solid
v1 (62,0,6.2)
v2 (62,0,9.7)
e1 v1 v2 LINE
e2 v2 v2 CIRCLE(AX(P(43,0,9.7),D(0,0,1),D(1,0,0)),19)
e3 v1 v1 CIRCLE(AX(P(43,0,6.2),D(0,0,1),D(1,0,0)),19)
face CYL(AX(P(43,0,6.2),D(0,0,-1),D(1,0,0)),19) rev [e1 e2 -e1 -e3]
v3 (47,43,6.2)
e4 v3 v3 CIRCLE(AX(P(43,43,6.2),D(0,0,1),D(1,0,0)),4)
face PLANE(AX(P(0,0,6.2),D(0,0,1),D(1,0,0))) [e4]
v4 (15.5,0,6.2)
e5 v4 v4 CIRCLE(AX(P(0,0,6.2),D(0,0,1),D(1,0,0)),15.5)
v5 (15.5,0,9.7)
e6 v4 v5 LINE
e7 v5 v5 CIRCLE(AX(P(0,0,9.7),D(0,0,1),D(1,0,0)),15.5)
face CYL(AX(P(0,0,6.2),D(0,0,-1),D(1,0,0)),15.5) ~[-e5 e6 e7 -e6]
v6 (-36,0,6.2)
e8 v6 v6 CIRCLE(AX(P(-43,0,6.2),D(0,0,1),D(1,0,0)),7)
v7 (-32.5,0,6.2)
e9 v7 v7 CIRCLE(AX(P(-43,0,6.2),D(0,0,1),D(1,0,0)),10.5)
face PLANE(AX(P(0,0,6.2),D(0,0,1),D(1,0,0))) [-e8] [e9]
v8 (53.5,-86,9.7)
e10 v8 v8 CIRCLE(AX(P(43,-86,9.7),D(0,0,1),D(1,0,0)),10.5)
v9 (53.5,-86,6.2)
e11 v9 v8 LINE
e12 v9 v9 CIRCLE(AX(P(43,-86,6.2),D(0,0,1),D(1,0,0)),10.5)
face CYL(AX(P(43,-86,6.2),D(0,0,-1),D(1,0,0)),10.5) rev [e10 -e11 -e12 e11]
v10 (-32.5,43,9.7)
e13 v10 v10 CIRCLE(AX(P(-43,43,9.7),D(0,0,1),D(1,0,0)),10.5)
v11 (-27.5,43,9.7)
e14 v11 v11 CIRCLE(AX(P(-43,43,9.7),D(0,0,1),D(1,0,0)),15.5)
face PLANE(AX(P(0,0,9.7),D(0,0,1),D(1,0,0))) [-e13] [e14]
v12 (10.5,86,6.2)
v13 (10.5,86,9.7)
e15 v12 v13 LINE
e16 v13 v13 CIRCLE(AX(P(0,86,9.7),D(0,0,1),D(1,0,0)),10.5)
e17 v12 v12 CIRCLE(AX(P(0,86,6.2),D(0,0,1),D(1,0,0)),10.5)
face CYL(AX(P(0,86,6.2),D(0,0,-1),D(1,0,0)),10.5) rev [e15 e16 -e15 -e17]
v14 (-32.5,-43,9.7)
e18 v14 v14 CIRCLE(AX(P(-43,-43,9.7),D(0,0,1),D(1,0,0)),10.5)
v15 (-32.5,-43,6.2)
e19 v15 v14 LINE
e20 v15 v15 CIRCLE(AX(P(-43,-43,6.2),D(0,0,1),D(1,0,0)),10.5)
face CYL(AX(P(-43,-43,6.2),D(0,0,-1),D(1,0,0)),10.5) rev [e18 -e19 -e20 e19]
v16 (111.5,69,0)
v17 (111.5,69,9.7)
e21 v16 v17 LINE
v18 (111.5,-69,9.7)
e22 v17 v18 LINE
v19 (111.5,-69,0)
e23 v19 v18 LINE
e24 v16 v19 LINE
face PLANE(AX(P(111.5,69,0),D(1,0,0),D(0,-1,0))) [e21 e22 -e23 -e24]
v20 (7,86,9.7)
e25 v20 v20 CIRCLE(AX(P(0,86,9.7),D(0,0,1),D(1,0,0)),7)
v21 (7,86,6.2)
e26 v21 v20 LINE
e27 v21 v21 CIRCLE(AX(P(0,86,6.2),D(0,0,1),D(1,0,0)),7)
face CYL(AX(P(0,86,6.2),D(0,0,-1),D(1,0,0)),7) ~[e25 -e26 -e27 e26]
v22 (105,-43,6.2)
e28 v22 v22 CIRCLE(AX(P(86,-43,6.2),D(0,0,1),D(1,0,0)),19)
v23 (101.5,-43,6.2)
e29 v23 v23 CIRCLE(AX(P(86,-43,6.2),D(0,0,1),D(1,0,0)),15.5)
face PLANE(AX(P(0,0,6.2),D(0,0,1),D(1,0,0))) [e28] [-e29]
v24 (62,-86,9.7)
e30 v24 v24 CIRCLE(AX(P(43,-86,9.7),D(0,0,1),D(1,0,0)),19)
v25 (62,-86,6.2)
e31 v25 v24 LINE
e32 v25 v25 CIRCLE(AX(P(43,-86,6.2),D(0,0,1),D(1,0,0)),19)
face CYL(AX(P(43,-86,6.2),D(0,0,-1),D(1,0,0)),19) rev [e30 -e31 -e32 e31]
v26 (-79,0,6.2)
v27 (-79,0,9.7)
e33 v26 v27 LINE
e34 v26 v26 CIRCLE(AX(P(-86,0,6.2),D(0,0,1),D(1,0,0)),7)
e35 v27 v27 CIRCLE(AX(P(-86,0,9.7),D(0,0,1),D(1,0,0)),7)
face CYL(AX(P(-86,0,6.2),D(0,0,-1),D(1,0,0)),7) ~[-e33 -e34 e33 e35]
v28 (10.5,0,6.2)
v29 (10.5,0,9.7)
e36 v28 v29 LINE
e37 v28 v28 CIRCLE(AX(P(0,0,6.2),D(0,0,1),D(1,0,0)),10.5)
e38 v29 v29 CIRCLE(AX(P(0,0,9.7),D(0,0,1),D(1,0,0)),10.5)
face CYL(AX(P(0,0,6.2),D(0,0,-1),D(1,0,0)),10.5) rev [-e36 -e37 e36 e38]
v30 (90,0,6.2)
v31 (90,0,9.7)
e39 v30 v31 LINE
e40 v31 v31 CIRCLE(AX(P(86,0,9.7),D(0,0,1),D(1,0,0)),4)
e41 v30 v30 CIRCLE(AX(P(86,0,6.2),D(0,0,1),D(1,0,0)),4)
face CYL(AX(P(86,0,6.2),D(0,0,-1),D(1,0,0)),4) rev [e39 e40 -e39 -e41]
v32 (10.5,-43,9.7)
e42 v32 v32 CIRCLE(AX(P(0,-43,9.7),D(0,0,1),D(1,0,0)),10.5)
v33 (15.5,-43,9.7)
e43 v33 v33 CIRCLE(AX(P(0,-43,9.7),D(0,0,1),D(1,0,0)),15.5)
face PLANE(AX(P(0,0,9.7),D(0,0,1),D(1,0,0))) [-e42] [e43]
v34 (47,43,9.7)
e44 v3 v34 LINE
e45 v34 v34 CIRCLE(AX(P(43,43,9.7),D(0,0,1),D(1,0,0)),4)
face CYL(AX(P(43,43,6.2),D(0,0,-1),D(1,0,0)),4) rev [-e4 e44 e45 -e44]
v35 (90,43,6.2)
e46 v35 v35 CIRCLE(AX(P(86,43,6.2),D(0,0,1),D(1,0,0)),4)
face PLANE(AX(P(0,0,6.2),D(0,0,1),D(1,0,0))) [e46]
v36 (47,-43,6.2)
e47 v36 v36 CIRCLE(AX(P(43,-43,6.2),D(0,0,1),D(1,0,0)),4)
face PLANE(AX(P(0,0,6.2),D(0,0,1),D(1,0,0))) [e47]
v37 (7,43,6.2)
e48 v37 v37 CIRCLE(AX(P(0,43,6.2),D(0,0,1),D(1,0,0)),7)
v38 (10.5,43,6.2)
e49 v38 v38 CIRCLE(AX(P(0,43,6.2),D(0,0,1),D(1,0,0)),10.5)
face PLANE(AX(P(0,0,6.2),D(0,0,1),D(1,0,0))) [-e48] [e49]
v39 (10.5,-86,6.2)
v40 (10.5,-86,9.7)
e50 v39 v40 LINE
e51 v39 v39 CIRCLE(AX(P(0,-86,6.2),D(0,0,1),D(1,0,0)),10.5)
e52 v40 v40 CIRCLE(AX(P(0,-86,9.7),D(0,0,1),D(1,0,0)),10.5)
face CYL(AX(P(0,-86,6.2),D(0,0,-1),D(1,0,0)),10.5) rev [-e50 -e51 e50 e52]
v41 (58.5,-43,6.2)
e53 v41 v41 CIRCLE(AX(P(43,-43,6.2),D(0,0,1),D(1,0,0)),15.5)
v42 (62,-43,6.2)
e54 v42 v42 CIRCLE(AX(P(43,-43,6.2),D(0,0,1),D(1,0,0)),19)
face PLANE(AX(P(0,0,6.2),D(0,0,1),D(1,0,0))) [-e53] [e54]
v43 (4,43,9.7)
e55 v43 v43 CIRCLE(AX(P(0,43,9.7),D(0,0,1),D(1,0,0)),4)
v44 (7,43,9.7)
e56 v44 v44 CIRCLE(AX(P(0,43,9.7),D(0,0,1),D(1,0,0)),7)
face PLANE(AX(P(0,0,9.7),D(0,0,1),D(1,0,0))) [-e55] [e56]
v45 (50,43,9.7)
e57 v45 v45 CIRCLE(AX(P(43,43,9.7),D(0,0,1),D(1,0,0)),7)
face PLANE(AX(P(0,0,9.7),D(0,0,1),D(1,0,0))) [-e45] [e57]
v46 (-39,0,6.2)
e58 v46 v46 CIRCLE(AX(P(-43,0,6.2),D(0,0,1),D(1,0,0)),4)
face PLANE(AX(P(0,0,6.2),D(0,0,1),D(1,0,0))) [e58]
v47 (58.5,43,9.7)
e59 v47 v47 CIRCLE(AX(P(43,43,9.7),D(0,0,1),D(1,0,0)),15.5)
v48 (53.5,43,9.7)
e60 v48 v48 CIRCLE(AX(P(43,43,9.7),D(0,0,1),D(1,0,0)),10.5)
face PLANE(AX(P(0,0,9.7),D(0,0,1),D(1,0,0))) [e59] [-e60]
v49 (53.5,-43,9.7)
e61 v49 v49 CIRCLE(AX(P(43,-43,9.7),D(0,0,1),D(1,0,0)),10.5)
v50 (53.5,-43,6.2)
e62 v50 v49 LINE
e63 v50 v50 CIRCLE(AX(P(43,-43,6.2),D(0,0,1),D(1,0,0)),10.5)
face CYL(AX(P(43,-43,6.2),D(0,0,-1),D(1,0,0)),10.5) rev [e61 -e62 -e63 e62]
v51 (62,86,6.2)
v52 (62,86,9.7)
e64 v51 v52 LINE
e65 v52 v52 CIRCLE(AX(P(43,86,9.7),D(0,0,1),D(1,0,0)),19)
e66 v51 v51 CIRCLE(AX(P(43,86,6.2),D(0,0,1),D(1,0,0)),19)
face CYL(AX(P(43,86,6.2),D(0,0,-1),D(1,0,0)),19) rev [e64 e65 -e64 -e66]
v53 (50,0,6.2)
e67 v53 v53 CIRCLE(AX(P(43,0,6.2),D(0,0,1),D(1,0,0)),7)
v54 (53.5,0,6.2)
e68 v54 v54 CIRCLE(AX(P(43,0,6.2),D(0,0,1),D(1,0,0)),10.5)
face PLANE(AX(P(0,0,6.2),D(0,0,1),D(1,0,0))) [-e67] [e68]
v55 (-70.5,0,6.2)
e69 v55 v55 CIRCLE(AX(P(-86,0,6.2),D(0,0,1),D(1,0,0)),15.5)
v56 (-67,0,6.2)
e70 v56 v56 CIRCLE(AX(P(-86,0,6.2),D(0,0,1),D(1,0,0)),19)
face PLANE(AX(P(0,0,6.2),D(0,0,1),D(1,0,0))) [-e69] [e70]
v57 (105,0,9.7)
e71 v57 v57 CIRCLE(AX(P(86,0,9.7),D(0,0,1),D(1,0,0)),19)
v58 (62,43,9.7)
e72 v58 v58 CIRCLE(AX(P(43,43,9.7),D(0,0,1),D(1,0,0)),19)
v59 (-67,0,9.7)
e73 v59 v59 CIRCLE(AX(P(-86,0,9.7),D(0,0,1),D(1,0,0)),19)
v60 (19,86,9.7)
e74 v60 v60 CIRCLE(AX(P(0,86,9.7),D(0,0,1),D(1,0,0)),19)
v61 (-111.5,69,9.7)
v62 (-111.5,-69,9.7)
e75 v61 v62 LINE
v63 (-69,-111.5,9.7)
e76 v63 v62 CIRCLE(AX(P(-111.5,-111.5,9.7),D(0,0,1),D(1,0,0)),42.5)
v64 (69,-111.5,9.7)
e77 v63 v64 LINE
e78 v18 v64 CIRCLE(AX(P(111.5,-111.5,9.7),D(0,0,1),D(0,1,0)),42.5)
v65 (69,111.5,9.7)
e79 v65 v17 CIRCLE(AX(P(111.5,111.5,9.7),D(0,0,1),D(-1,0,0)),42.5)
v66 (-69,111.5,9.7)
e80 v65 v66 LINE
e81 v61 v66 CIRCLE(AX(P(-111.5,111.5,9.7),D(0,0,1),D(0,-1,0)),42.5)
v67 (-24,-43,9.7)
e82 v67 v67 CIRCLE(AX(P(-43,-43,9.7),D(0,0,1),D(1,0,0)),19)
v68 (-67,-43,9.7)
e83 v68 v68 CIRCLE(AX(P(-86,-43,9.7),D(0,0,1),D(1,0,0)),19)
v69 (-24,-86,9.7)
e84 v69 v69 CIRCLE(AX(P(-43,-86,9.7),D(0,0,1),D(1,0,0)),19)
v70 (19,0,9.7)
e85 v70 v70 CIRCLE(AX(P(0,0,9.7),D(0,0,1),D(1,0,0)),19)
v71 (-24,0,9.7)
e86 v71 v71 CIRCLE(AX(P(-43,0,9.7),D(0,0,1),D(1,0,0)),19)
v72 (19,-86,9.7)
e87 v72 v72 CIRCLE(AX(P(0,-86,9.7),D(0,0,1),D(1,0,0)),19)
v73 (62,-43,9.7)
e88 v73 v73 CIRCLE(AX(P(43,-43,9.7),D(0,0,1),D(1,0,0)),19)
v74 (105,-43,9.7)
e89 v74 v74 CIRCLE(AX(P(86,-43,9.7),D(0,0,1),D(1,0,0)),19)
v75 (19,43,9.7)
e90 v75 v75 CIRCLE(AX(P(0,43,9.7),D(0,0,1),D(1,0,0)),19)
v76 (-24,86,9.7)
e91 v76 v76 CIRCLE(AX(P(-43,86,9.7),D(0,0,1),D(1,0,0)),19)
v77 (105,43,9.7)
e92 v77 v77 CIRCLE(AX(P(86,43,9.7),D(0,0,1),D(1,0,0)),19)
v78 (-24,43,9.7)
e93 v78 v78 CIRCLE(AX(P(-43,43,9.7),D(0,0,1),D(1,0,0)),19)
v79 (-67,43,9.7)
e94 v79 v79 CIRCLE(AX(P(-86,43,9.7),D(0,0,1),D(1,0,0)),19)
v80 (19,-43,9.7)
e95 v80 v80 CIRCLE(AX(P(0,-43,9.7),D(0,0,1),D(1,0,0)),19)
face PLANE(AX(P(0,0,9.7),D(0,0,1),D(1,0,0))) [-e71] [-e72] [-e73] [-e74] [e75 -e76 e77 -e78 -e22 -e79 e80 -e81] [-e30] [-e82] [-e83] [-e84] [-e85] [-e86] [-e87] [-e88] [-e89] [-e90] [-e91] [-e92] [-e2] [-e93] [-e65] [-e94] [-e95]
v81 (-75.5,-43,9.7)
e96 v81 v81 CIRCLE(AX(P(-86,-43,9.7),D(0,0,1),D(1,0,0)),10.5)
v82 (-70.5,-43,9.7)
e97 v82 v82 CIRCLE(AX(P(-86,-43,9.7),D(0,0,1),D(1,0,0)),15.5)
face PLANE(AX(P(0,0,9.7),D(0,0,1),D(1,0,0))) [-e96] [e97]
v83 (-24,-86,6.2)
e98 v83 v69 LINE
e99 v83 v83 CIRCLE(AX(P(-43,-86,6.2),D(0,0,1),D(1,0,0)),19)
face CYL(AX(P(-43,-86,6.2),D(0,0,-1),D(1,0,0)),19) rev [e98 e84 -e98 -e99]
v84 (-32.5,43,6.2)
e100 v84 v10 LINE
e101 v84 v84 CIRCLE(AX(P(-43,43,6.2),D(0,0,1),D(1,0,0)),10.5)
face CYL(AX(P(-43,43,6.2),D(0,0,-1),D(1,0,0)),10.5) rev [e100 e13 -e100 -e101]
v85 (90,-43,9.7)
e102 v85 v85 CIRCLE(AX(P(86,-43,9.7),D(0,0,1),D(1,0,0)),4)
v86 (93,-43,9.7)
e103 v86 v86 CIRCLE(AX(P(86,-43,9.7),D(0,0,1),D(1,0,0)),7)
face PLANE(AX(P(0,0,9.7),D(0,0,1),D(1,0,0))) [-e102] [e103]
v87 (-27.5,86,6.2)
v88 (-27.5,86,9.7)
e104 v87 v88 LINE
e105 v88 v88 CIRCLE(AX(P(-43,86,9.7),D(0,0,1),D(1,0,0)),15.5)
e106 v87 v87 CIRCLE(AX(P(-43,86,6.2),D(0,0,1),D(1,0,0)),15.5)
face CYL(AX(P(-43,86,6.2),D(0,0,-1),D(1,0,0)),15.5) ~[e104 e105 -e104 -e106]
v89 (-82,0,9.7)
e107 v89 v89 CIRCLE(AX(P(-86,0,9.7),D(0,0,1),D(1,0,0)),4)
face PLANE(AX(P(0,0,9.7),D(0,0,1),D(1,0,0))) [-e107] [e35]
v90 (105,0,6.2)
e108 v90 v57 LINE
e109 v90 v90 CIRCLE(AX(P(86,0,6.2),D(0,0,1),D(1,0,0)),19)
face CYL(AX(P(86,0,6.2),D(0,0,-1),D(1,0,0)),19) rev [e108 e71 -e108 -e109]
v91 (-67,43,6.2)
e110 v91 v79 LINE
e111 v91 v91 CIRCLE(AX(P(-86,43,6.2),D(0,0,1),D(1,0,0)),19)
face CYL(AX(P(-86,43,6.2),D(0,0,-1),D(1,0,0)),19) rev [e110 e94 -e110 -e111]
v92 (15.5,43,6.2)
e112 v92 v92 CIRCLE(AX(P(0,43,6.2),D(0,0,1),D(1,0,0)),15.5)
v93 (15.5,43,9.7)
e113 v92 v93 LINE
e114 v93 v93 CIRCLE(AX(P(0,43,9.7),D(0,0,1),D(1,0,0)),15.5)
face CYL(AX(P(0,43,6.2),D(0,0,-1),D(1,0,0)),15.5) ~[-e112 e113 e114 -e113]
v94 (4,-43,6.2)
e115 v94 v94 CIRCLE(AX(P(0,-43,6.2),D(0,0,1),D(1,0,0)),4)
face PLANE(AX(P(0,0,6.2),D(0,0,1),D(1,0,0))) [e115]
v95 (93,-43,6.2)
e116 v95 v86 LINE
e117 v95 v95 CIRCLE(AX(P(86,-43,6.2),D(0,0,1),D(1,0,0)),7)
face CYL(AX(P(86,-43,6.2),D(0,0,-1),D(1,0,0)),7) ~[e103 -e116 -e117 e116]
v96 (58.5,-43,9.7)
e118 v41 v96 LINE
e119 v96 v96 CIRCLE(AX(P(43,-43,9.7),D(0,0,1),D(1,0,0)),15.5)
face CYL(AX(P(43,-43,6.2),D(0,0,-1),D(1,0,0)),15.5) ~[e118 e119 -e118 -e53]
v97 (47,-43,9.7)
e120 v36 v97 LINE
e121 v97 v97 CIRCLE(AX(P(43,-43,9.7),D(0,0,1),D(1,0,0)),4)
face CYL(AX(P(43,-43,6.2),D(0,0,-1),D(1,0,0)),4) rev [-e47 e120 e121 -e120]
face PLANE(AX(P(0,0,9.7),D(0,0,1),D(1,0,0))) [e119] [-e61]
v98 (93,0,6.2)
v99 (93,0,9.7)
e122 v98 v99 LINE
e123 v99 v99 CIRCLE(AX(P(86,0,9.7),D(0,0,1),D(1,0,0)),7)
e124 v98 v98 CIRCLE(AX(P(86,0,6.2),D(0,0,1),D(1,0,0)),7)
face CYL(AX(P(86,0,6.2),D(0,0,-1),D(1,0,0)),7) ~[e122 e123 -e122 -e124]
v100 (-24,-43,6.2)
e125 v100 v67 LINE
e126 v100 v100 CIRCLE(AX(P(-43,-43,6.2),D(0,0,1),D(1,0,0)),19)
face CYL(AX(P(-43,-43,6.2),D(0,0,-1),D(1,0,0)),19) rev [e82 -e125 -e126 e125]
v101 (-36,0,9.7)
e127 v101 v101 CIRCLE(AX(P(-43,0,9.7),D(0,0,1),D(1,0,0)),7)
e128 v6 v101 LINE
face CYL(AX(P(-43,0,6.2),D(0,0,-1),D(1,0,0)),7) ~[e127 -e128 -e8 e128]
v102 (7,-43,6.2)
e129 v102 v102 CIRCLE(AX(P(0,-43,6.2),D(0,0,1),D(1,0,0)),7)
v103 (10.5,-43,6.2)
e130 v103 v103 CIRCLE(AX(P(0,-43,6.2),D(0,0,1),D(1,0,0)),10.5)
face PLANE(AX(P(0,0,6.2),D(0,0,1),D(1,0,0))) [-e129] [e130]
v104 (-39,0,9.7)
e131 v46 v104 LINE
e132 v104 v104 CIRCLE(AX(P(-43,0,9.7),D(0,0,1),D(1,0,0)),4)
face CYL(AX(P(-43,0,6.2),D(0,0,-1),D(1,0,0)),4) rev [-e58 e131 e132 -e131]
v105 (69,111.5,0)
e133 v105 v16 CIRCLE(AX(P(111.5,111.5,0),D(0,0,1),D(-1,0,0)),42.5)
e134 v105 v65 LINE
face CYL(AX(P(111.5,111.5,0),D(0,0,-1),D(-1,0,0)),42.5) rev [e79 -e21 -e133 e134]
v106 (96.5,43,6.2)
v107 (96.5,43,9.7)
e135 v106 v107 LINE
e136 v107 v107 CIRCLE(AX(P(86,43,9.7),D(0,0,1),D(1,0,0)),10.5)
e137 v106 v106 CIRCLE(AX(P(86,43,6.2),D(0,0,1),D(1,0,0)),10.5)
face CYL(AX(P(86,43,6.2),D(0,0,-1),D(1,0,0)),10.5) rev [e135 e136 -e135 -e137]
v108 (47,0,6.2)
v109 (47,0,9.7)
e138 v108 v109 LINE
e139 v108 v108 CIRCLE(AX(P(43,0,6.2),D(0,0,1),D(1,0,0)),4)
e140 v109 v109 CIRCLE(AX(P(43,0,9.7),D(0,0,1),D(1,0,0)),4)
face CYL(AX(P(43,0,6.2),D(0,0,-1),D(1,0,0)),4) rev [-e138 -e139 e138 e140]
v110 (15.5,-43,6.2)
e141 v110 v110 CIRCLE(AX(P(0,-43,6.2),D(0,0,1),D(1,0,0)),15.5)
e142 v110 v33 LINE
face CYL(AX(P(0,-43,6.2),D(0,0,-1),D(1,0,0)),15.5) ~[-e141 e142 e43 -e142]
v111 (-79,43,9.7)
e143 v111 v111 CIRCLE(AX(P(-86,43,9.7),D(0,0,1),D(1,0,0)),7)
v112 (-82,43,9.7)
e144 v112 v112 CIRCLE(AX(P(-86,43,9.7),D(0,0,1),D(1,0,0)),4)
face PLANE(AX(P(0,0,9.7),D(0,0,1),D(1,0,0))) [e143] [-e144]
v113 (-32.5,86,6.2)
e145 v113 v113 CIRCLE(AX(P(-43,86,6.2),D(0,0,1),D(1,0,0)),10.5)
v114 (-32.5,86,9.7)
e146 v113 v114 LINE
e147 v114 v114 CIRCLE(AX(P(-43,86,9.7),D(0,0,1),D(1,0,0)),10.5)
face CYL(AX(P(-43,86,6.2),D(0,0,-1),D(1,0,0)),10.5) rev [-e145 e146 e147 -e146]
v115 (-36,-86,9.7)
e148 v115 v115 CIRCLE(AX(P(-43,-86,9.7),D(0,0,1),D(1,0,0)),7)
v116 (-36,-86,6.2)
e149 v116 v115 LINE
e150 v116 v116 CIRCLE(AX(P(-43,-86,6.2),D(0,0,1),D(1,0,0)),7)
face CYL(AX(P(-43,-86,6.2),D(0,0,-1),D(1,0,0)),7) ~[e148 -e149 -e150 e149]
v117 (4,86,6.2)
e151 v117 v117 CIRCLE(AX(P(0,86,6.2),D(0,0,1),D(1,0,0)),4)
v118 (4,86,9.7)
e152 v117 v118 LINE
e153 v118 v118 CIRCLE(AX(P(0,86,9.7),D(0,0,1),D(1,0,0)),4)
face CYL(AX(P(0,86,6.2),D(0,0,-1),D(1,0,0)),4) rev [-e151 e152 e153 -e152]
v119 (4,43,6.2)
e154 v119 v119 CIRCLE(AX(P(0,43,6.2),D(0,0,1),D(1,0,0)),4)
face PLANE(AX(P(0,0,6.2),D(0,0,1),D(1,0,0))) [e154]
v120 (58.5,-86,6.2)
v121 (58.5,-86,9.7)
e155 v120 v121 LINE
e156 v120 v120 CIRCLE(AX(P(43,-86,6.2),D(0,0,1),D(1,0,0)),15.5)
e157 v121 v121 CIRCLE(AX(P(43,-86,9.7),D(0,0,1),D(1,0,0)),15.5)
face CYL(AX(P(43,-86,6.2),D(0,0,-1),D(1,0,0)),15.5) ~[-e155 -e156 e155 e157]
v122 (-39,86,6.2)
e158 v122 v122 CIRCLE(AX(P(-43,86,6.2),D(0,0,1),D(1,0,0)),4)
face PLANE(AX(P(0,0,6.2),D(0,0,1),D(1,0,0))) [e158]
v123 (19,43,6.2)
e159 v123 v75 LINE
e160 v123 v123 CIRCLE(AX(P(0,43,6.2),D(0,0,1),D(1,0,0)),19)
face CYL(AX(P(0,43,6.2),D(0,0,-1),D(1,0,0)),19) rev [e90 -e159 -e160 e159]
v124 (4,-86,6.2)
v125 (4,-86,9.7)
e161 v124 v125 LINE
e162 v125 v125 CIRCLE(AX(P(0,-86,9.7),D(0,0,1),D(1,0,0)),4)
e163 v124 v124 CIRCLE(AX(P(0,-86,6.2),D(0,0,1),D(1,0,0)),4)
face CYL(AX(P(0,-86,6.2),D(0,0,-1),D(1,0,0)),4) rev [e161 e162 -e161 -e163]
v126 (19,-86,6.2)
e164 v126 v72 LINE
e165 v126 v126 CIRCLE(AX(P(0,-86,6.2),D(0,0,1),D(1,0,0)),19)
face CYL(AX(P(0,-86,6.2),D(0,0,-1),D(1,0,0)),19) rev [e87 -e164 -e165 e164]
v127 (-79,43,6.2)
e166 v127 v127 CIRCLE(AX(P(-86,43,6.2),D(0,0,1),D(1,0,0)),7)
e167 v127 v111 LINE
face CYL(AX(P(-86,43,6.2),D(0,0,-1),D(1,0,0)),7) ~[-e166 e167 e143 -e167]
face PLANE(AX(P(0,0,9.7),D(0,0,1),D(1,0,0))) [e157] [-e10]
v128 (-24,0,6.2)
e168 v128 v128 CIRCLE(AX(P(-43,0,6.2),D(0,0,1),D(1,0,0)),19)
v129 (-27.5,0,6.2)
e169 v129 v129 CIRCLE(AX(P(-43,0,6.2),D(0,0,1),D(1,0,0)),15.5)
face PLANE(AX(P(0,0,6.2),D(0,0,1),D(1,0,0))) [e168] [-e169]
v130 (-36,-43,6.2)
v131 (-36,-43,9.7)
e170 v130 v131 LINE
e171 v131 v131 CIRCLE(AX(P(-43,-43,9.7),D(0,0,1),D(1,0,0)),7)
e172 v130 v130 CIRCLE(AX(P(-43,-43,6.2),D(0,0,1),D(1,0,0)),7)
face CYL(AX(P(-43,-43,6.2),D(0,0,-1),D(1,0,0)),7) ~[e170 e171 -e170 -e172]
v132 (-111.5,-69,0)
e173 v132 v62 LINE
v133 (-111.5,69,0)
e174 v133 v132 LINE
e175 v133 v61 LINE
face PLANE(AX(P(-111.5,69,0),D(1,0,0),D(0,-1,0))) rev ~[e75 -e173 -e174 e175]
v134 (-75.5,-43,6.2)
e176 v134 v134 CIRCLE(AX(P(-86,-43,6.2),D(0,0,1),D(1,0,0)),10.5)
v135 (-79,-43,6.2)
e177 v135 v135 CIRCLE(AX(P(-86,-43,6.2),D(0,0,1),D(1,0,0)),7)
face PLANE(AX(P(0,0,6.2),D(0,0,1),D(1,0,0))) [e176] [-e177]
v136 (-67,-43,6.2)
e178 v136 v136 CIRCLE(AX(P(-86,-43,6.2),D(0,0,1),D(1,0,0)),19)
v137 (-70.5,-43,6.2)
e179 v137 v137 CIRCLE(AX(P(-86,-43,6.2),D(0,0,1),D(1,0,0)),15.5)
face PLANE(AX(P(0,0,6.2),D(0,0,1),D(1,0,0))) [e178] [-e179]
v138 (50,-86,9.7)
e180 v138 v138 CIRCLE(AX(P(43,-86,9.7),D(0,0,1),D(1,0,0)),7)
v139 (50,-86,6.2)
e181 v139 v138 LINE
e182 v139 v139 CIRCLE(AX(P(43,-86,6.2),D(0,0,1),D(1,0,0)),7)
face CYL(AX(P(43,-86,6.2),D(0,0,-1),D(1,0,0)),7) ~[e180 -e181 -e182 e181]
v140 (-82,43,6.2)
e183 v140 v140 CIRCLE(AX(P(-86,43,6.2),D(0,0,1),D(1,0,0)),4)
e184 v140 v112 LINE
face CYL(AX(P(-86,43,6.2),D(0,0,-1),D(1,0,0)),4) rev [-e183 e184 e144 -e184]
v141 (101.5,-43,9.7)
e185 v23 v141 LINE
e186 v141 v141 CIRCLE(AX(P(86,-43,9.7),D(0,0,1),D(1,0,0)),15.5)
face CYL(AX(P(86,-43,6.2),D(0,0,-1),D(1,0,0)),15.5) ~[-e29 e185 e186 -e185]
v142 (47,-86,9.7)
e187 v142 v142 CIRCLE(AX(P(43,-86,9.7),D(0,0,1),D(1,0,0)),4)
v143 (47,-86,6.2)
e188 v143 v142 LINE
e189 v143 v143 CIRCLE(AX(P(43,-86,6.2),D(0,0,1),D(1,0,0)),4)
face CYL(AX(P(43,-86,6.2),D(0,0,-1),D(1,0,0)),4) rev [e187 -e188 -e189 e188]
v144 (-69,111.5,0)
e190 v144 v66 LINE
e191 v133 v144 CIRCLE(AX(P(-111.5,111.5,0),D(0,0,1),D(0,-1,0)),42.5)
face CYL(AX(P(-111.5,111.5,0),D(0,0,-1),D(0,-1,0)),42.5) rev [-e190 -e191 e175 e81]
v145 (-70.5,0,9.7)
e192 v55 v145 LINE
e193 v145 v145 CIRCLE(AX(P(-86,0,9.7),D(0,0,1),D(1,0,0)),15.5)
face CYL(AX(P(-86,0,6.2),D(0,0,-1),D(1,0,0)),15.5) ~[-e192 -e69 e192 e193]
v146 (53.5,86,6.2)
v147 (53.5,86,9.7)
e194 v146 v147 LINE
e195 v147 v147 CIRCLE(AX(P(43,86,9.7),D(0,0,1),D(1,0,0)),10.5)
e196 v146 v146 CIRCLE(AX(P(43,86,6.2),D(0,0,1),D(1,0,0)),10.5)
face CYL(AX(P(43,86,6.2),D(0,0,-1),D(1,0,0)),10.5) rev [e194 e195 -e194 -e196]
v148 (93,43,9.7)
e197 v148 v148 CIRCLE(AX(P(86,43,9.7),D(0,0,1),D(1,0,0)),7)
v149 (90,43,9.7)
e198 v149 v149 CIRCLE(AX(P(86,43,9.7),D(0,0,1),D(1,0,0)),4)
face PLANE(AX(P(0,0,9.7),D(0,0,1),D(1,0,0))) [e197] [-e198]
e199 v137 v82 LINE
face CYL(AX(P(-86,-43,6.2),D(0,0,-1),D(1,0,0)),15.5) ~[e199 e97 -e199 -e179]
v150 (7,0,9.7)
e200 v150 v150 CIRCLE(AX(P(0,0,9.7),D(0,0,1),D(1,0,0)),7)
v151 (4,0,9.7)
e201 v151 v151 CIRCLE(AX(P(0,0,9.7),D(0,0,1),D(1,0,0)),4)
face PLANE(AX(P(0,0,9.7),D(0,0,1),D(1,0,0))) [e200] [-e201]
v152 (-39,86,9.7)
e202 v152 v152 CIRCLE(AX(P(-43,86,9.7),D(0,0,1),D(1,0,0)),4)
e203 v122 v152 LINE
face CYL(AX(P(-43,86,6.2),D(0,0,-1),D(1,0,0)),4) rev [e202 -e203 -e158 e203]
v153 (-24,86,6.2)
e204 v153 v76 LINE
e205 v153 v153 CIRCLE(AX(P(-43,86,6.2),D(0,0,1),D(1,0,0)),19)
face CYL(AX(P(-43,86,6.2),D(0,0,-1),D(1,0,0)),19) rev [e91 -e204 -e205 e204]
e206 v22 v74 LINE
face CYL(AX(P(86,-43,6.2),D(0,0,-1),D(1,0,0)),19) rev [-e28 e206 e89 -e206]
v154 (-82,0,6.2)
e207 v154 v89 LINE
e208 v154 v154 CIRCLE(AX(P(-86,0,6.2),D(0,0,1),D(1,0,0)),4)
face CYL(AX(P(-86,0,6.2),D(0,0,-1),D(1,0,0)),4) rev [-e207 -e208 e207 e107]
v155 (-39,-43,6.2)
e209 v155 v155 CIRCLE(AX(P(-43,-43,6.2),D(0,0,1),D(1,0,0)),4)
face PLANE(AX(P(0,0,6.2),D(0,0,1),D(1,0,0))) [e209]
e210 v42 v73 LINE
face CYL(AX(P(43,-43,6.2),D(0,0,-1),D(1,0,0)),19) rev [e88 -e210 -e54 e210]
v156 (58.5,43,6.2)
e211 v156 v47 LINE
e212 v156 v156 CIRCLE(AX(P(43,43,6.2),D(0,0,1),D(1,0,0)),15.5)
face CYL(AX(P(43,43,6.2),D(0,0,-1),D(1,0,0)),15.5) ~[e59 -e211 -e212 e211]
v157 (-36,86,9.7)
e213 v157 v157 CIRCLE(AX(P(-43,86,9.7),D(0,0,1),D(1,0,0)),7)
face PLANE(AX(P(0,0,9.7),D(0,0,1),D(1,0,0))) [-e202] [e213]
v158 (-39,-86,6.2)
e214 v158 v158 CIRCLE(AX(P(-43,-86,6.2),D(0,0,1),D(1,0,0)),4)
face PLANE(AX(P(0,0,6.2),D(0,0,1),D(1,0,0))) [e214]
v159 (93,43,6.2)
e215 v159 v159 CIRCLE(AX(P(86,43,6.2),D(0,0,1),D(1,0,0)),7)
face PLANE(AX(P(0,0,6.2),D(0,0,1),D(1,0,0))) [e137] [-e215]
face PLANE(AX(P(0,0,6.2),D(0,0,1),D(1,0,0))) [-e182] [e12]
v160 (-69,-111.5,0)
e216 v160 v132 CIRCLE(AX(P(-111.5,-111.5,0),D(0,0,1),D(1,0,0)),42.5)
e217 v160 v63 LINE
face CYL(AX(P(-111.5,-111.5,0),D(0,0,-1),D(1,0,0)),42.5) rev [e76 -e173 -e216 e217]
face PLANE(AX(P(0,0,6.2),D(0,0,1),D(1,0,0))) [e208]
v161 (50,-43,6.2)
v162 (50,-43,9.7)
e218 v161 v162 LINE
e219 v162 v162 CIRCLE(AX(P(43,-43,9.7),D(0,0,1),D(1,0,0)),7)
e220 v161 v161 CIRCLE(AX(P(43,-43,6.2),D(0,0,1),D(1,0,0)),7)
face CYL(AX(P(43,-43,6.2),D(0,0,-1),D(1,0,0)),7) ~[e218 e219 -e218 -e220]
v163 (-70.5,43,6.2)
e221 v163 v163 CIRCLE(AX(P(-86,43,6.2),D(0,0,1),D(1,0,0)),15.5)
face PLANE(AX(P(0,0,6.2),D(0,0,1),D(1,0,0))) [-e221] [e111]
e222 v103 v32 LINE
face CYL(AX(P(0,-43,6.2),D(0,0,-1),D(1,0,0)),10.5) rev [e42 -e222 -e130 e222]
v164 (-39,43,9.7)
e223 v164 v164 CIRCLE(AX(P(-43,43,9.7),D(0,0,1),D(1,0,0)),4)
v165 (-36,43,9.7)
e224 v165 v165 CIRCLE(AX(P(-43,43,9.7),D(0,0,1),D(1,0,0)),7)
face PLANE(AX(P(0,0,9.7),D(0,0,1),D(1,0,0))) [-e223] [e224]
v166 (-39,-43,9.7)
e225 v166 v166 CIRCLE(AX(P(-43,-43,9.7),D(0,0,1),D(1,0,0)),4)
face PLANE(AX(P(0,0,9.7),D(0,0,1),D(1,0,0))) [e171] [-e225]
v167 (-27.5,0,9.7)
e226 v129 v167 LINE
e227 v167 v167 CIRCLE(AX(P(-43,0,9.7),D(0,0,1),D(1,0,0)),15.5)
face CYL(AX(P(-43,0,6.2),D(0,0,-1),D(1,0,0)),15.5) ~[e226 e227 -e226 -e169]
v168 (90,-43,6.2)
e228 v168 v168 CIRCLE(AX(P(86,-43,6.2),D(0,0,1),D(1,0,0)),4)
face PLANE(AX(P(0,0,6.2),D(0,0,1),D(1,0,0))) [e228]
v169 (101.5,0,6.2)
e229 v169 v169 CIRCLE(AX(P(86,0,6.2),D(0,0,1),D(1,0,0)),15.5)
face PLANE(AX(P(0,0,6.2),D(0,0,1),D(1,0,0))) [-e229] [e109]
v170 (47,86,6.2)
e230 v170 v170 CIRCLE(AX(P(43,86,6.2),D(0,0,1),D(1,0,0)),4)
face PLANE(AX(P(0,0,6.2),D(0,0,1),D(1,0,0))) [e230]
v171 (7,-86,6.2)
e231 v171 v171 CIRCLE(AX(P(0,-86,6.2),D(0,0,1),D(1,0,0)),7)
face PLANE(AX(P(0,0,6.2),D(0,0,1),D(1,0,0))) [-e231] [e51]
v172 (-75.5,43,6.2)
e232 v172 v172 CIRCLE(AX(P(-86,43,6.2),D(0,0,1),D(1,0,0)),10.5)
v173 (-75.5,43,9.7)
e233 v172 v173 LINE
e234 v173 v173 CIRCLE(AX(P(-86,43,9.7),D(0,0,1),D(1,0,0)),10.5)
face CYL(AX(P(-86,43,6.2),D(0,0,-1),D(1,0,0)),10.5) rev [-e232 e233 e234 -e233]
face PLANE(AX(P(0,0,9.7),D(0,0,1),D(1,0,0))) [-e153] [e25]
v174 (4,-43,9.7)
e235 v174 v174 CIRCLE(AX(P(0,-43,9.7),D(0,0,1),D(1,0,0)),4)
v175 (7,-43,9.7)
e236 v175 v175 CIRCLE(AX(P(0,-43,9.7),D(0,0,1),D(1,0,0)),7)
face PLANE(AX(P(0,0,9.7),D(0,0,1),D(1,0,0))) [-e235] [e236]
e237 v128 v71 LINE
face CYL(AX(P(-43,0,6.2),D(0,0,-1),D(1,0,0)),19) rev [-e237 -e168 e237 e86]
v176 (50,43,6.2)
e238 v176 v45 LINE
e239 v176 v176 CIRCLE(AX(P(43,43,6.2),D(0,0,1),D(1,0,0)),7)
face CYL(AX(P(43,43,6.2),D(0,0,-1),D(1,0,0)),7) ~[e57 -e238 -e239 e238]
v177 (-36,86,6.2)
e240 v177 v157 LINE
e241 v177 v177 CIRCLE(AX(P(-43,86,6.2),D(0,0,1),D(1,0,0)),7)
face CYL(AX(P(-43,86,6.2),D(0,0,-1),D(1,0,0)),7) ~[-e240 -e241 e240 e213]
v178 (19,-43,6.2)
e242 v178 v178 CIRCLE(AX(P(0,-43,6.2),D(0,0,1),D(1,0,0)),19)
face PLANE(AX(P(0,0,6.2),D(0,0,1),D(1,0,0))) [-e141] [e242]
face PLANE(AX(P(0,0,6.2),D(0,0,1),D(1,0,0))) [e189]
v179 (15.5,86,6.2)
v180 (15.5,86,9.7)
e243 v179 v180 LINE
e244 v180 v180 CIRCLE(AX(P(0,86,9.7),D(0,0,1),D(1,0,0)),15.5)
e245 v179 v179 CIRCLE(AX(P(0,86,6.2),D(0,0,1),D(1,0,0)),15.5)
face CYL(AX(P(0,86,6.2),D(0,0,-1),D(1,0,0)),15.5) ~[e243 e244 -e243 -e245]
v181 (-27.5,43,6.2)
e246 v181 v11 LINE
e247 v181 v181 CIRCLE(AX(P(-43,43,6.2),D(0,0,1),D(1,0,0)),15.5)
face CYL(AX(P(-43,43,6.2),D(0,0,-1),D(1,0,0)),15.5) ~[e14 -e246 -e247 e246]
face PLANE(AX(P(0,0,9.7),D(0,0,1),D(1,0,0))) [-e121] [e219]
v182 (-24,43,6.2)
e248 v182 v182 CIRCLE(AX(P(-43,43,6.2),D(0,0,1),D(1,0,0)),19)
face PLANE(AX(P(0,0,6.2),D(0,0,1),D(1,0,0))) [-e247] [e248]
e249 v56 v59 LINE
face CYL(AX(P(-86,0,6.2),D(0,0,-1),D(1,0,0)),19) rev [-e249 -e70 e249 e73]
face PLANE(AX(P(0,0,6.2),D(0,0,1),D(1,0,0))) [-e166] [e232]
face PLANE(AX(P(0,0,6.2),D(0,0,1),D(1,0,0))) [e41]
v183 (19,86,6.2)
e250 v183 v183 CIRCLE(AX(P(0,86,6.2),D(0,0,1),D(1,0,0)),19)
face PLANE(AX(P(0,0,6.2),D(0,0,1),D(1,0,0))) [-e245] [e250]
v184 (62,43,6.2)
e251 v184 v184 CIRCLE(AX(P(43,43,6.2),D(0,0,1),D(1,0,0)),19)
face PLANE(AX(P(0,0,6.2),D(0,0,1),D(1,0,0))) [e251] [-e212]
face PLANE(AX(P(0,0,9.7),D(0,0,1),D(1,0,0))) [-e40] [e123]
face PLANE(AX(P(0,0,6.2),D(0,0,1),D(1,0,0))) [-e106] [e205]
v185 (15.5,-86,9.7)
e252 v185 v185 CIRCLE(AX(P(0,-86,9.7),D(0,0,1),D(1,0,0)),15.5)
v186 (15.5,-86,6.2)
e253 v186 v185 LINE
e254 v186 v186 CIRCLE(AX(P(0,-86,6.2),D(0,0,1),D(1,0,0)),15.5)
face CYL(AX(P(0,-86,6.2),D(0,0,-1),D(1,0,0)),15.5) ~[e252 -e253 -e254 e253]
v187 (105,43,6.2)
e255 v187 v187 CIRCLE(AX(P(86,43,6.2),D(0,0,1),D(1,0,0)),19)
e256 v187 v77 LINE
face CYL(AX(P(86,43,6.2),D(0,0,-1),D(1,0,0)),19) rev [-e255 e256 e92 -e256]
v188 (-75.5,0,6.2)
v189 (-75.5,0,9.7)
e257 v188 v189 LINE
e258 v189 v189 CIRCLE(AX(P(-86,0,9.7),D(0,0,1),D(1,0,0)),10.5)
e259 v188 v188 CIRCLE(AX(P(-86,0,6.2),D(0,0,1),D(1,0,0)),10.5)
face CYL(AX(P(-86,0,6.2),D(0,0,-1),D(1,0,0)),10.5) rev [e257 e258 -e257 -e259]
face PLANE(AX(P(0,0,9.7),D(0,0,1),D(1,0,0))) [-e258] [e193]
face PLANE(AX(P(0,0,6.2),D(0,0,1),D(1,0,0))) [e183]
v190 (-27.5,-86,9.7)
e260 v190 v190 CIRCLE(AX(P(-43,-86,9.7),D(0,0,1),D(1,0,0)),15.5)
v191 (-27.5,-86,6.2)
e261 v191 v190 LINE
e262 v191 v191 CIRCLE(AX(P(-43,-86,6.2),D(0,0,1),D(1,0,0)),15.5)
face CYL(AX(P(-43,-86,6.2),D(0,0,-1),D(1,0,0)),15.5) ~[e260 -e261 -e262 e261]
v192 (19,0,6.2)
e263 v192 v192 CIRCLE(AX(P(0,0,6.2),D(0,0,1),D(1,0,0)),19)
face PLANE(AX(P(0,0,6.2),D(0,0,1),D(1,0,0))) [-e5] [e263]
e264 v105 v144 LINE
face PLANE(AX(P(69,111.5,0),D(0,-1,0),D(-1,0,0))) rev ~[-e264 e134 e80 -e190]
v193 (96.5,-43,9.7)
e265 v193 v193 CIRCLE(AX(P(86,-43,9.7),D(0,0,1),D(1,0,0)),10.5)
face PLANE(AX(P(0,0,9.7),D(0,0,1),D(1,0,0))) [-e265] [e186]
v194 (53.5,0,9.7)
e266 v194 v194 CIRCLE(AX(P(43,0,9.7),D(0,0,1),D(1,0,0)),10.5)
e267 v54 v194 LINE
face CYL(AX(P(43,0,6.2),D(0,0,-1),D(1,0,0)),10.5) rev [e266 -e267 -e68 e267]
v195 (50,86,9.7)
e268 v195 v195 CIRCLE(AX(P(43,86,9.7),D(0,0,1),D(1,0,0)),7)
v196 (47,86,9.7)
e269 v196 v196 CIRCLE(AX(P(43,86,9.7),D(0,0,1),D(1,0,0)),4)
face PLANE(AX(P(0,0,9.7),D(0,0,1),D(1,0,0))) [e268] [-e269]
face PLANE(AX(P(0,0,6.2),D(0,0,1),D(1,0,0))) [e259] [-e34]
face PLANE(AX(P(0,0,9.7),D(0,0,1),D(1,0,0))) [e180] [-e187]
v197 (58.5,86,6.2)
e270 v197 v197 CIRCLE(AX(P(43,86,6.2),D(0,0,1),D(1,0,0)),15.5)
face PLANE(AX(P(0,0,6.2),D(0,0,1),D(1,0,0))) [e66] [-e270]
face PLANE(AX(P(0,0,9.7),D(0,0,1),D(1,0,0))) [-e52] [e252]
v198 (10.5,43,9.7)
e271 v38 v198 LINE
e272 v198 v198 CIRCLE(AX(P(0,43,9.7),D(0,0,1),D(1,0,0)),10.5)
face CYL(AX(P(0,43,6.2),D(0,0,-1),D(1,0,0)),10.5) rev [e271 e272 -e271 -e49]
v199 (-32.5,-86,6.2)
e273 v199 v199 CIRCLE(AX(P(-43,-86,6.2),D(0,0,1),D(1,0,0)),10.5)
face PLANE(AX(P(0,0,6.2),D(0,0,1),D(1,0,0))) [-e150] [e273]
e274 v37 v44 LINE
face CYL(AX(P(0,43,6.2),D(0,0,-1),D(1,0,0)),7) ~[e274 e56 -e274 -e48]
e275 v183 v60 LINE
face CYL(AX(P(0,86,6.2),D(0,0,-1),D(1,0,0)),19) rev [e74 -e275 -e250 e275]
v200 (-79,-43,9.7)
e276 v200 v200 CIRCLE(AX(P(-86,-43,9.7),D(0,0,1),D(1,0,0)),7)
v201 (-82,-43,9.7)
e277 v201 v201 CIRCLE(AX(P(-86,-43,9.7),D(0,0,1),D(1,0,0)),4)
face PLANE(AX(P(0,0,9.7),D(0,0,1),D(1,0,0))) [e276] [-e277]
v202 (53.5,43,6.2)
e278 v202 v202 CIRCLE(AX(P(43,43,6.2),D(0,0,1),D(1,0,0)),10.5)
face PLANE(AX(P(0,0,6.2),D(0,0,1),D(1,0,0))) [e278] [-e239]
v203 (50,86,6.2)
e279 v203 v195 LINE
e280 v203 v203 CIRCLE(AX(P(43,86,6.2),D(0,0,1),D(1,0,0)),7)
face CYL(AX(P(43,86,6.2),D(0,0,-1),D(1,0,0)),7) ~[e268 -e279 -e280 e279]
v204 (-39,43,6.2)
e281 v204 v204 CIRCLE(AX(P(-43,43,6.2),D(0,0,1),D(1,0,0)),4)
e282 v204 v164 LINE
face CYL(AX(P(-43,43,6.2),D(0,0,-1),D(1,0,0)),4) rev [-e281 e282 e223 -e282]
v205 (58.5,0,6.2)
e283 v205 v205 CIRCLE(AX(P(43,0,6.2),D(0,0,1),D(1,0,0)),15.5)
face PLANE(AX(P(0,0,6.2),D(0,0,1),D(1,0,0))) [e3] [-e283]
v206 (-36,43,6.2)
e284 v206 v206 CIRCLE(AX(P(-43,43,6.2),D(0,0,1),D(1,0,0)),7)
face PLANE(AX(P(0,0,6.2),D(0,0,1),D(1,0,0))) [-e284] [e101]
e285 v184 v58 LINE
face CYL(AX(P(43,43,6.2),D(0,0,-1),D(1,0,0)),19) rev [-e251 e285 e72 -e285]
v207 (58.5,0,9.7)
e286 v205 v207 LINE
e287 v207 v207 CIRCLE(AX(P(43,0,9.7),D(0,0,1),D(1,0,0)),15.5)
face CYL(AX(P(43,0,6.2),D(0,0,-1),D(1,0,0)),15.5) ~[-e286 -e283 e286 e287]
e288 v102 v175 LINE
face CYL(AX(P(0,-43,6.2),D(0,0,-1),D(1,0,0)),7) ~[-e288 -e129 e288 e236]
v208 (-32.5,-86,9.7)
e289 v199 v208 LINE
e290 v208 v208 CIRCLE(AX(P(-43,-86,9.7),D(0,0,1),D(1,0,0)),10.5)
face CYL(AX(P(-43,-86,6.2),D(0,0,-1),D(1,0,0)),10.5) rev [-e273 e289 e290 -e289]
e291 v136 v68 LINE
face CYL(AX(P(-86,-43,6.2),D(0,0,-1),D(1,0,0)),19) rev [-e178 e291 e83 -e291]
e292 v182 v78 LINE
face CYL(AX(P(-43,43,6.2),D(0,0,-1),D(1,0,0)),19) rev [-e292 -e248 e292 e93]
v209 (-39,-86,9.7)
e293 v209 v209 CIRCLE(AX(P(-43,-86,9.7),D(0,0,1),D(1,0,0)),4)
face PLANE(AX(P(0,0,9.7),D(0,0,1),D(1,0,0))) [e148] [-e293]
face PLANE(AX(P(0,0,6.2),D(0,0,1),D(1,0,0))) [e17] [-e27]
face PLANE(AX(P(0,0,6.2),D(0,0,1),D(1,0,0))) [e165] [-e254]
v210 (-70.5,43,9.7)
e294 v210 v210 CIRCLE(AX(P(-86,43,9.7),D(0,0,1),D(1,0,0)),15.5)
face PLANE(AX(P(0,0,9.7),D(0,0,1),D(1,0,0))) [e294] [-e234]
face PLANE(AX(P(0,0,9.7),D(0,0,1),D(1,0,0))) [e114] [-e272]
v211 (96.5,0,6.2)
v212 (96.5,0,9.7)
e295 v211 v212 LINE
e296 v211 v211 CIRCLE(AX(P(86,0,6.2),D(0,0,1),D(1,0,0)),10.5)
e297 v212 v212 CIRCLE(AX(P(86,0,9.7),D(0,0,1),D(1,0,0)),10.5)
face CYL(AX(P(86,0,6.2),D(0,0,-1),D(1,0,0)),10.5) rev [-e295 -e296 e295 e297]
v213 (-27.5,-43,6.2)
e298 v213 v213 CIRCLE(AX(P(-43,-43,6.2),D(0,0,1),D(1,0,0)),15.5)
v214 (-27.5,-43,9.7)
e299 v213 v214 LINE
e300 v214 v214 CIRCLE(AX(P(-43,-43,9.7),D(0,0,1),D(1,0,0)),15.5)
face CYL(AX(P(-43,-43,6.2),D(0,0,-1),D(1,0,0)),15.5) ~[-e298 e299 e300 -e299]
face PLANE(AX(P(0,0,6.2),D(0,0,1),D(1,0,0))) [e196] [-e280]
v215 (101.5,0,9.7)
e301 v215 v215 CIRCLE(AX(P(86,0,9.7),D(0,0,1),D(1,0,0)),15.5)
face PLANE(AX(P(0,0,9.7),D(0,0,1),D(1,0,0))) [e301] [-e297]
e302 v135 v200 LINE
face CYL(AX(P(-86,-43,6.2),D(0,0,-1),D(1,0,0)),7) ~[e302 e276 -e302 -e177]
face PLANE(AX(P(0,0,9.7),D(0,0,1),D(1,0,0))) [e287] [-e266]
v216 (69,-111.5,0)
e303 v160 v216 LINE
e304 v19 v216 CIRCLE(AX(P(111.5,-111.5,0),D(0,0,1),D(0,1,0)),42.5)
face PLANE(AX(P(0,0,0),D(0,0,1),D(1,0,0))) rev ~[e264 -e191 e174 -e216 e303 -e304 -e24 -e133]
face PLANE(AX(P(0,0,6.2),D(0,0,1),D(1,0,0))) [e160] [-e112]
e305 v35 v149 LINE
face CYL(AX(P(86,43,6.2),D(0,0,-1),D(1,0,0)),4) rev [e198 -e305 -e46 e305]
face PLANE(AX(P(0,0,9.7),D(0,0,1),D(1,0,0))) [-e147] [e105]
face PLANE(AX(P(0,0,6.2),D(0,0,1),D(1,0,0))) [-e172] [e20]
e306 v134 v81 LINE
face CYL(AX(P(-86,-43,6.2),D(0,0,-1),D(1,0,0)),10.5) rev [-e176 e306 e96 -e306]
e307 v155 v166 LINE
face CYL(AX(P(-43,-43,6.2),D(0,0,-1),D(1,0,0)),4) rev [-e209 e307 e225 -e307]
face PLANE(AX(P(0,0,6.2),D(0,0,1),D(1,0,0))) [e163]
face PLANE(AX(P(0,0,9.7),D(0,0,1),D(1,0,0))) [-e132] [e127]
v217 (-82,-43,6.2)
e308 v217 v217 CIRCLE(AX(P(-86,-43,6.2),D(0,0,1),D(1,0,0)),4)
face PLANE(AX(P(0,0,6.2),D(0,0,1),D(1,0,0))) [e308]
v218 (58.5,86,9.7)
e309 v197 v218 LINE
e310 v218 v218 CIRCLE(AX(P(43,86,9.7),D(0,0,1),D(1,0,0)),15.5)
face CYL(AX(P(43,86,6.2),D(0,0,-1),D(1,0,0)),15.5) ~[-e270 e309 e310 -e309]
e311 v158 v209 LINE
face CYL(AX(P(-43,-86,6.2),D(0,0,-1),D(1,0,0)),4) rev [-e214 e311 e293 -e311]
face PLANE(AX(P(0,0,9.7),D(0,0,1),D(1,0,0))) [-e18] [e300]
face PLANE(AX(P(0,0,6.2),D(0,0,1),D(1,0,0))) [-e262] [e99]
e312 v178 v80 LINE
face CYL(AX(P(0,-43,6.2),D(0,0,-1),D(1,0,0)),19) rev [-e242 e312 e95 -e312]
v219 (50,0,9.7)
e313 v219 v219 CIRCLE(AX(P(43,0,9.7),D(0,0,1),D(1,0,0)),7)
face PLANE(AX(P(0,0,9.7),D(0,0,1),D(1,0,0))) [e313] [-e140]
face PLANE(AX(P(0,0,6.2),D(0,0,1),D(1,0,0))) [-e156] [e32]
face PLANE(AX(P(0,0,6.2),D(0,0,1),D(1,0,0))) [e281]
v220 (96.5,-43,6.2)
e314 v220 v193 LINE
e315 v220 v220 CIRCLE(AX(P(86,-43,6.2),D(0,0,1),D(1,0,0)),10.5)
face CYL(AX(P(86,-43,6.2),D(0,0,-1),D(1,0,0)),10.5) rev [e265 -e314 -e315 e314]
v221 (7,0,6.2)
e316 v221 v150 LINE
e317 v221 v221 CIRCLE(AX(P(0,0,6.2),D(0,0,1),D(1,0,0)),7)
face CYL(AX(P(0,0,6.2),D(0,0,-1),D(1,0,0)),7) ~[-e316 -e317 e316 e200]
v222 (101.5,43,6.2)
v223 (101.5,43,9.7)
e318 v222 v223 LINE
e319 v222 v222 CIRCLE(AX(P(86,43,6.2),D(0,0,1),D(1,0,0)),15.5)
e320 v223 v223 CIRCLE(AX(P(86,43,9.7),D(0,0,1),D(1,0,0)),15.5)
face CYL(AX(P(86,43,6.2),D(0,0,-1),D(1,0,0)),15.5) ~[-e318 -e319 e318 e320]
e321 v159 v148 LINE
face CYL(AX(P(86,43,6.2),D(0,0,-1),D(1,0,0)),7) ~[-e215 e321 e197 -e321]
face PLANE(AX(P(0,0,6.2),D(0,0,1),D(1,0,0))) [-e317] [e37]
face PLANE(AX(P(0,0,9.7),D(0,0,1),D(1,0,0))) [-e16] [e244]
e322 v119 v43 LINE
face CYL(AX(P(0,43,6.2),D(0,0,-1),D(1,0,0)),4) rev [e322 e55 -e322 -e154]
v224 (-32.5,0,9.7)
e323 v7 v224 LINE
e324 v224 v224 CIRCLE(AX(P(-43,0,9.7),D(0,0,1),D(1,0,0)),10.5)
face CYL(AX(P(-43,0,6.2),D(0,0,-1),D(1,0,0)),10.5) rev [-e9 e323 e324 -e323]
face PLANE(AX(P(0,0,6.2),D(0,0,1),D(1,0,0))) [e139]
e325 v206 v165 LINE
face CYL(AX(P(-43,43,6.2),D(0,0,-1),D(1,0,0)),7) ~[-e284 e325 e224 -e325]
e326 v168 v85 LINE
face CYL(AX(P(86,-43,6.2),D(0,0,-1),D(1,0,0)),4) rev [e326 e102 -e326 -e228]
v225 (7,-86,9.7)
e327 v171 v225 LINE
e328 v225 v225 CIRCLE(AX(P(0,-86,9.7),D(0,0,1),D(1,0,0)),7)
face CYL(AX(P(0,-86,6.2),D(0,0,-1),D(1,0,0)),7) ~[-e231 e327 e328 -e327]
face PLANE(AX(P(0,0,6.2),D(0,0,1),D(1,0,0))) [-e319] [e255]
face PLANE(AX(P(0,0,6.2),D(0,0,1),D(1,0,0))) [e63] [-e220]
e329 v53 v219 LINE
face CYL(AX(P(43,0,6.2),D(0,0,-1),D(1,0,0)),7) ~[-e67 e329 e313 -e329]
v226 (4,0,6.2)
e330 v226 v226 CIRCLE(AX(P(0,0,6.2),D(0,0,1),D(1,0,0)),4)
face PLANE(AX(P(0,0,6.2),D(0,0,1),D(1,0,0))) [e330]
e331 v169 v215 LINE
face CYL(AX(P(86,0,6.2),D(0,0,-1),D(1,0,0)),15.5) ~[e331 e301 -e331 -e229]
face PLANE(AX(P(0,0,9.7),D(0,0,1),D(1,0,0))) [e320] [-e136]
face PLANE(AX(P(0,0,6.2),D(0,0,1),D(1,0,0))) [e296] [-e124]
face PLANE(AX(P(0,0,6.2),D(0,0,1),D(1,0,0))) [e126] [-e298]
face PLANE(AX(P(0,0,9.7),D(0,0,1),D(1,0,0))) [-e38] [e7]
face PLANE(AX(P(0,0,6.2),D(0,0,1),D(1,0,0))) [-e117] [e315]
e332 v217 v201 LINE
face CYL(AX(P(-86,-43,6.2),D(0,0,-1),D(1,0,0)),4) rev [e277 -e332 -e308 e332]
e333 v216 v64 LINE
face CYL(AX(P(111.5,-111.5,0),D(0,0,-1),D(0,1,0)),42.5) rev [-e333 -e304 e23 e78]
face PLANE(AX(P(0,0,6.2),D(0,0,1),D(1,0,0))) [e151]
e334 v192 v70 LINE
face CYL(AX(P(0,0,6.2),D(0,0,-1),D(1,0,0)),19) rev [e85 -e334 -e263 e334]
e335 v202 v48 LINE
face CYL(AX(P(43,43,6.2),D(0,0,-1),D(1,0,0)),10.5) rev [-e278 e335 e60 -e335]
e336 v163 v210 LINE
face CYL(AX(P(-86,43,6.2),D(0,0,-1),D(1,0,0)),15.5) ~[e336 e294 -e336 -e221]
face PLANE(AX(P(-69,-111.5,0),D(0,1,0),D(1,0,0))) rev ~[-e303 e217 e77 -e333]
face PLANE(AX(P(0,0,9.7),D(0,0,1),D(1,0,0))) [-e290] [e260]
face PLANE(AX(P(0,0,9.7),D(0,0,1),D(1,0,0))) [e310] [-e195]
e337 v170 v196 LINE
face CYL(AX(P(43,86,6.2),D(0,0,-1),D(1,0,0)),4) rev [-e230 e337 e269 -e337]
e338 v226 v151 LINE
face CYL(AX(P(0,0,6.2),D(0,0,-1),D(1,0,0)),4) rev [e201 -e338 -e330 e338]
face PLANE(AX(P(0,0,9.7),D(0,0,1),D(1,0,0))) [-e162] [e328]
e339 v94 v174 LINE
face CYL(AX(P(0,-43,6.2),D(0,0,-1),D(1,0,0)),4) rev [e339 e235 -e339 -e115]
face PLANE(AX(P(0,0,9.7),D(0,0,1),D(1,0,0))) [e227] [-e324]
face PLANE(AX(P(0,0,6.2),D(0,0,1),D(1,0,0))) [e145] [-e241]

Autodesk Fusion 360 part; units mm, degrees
ref_plane "WorkPlane1" through (0, 0, 6.2) normal (0, 0, 1) x (1, 0, 0)
sketch "Main Sketch1" plane through (0, 0, 6.2) normal (0, 0, 1) x (1, 0, 0)
  circle A0 centre (0, 0) radius 4
  circle A1 centre (0, 0) radius 7
  circle A2 centre (0, 0) radius 10.5
  circle A3 centre (0, 0) radius 15.5
  circle A4 centre (0, 0) radius 19
  circle A5 centre (-43, -86) radius 7
  circle A6 centre (-43, -86) radius 19
  circle A7 centre (-43, -86) radius 4
  circle A8 centre (-43, -86) radius 15.5
  circle A9 centre (-43, -86) radius 10.5
  circle A10 centre (0, -86) radius 7
  circle A11 centre (0, -86) radius 19
  circle A12 centre (0, -86) radius 4
  circle A13 centre (0, -86) radius 15.5
  circle A14 centre (0, -86) radius 10.5
  circle A15 centre (43, -86) radius 7
  circle A16 centre (43, -86) radius 19
  circle A17 centre (43, -86) radius 4
  circle A18 centre (43, -86) radius 15.5
  circle A19 centre (43, -86) radius 10.5
  circle A20 centre (-86, -43) radius 7
  circle A21 centre (-86, -43) radius 19
  circle A22 centre (-86, -43) radius 4
  circle A23 centre (-86, -43) radius 15.5
  circle A24 centre (-86, -43) radius 10.5
  circle A25 centre (-43, -43) radius 7
  circle A26 centre (-43, -43) radius 19
  circle A27 centre (-43, -43) radius 4
  circle A28 centre (-43, -43) radius 15.5
  circle A29 centre (-43, -43) radius 10.5
  circle A30 centre (0, -43) radius 7
  circle A31 centre (0, -43) radius 19
  circle A32 centre (0, -43) radius 4
  circle A33 centre (0, -43) radius 15.5
  circle A34 centre (0, -43) radius 10.5
  circle A35 centre (43, -43) radius 7
  circle A36 centre (43, -43) radius 19
  circle A37 centre (43, -43) radius 4
  circle A38 centre (43, -43) radius 15.5
  circle A39 centre (43, -43) radius 10.5
  circle A40 centre (86, -43) radius 7
  circle A41 centre (86, -43) radius 19
  circle A42 centre (86, -43) radius 4
  circle A43 centre (86, -43) radius 15.5
  circle A44 centre (86, -43) radius 10.5
  circle A45 centre (-86, 0) radius 7
  circle A46 centre (-86, 0) radius 19
  circle A47 centre (-86, 0) radius 4
  circle A48 centre (-86, 0) radius 15.5
  circle A49 centre (-86, 0) radius 10.5
  circle A50 centre (-43, 0) radius 7
  circle A51 centre (-43, 0) radius 19
  circle A52 centre (-43, 0) radius 4
  circle A53 centre (-43, 0) radius 15.5
  circle A54 centre (-43, 0) radius 10.5
  circle A55 centre (43, 0) radius 7
  circle A56 centre (43, 0) radius 19
  circle A57 centre (43, 0) radius 4
  circle A58 centre (43, 0) radius 15.5
  circle A59 centre (43, 0) radius 10.5
  circle A60 centre (86, 0) radius 7
  circle A61 centre (86, 0) radius 19
  circle A62 centre (86, 0) radius 4
  circle A63 centre (86, 0) radius 15.5
  circle A64 centre (86, 0) radius 10.5
  circle A65 centre (-86, 43) radius 7
  circle A66 centre (-86, 43) radius 19
  circle A67 centre (-86, 43) radius 4
  circle A68 centre (-86, 43) radius 15.5
  circle A69 centre (-86, 43) radius 10.5
  circle A70 centre (-43, 43) radius 7
  circle A71 centre (-43, 43) radius 19
  circle A72 centre (-43, 43) radius 4
  circle A73 centre (-43, 43) radius 15.5
  circle A74 centre (-43, 43) radius 10.5
  circle A75 centre (0, 43) radius 7
  circle A76 centre (0, 43) radius 19
  circle A77 centre (0, 43) radius 4
  circle A78 centre (0, 43) radius 15.5
  circle A79 centre (0, 43) radius 10.5
  circle A80 centre (43, 43) radius 7
  circle A81 centre (43, 43) radius 19
  circle A82 centre (43, 43) radius 4
  circle A83 centre (43, 43) radius 15.5
  circle A84 centre (43, 43) radius 10.5
  circle A85 centre (86, 43) radius 7
  circle A86 centre (86, 43) radius 19
  circle A87 centre (86, 43) radius 4
  circle A88 centre (86, 43) radius 15.5
  circle A89 centre (86, 43) radius 10.5
  circle A90 centre (-43, 86) radius 7
  circle A91 centre (-43, 86) radius 19
  circle A92 centre (-43, 86) radius 4
  circle A93 centre (-43, 86) radius 15.5
  circle A94 centre (-43, 86) radius 10.5
  circle A95 centre (0, 86) radius 7
  circle A96 centre (0, 86) radius 19
  circle A97 centre (0, 86) radius 4
  circle A98 centre (0, 86) radius 15.5
  circle A99 centre (0, 86) radius 10.5
  circle A100 centre (43, 86) radius 7
  circle A101 centre (43, 86) radius 19
  circle A102 centre (43, 86) radius 4
  circle A103 centre (43, 86) radius 15.5
  circle A104 centre (43, 86) radius 10.5
  line L0 (65, 65) -> (-65, 65)
  line L1 (-65, 65) -> (-65, -65)
  line L2 (-65, -65) -> (65, -65)
  line L3 (65, -65) -> (65, 65)
  dimension "d1" = 8
  dimension "d2" = 14
  dimension "d3" = 21
  dimension "d4" = 31
  dimension "d5" = 38
  dimension "d8" = 43
  dimension "d9" = 43
  dimension "d50" = 130
  dimension "d51" = 130
ref_plane "WorkPlane2" through (0, 0, 8.7) normal (0, 0, 1) x (1, 0, 0)
sketch "dan text" plane through (0, 0, 8.7) normal (0, 0, 1) x (1, 0, 0)
  line L0 (-96.476, -77.9691) -> (-77.8352, -100.1844) construction
  line L1 (-77.8352, -100.1844) -> (-65.5785, -89.8998) construction
  line L2 (-65.5785, -89.8998) -> (-84.2193, -67.6845) construction
  line L3 (-84.2193, -67.6845) -> (-96.476, -77.9691) construction
  dimension "d53" = 7
sketch "base" plane through (0, 0, 0) normal (0, 0, 1) x (1, 0, 0)
  line L0 (69, 111.5) -> (-69, 111.5)
  line L1 (-111.5, 69) -> (-111.5, -69)
  line L2 (-69, -111.5) -> (69, -111.5)
  line L3 (111.5, 111.5) -> (-111.5, -111.5) construction
  line L4 (-111.5, 111.5) -> (111.5, -111.5) construction
  arc A0 (-111.5, 69) -> (-69, 111.5) centre (-111.5, 111.5) ccw
  arc A1 (69, 111.5) -> (111.5, 69) centre (111.5, 111.5) ccw
  arc A2 (111.5, -69) -> (69, -111.5) centre (111.5, -111.5) ccw
  arc A3 (-69, -111.5) -> (-111.5, -69) centre (-111.5, -111.5) ccw
  line L5 (111.5, 69) -> (111.5, -69)
  dimension "d44" = 223
  dimension "d45" = 223
  dimension "d46" = 85
  dimension "d47" = 85
  dimension "d48" = 85
  dimension "d49" = 85
extrude "extrude main body" add sketch "base" along normal blind 9.7
extrude "cut groves" cut sketch "Main Sketch1" along normal blind 3.5 contours A0 | A2 | A4 | A6 | A7 | A9 | A11 | A12 | A14 | A16 | A17 | A19 | A21 | A22 | A24 | A26 | A27 | A29 | A31 | A32 | A34 | A36 | A37 | A39 | A41 | A42 | A44 | A46 | A47 | A49 | A51 | A52 | A54 | A56 | A57 | A59 | A61 | A62 | A64 | A66 | A67 | A69 | A71 | A72 | A74 | A76 | A77 | A79 | A81 | A82 | A84 | A86 | A87 | A89 | A91 | A92 | A94 | A96 | A97 | A99 | A101 | A102 | A104
equation "height = 9.7 mm"
equation "grooveheight = 3.5 mm"
equation "d27 = height - grooveheight"
equation "d34 = height"
equation "d36 = grooveheight"
equation "d52 = height - 1 mm"
